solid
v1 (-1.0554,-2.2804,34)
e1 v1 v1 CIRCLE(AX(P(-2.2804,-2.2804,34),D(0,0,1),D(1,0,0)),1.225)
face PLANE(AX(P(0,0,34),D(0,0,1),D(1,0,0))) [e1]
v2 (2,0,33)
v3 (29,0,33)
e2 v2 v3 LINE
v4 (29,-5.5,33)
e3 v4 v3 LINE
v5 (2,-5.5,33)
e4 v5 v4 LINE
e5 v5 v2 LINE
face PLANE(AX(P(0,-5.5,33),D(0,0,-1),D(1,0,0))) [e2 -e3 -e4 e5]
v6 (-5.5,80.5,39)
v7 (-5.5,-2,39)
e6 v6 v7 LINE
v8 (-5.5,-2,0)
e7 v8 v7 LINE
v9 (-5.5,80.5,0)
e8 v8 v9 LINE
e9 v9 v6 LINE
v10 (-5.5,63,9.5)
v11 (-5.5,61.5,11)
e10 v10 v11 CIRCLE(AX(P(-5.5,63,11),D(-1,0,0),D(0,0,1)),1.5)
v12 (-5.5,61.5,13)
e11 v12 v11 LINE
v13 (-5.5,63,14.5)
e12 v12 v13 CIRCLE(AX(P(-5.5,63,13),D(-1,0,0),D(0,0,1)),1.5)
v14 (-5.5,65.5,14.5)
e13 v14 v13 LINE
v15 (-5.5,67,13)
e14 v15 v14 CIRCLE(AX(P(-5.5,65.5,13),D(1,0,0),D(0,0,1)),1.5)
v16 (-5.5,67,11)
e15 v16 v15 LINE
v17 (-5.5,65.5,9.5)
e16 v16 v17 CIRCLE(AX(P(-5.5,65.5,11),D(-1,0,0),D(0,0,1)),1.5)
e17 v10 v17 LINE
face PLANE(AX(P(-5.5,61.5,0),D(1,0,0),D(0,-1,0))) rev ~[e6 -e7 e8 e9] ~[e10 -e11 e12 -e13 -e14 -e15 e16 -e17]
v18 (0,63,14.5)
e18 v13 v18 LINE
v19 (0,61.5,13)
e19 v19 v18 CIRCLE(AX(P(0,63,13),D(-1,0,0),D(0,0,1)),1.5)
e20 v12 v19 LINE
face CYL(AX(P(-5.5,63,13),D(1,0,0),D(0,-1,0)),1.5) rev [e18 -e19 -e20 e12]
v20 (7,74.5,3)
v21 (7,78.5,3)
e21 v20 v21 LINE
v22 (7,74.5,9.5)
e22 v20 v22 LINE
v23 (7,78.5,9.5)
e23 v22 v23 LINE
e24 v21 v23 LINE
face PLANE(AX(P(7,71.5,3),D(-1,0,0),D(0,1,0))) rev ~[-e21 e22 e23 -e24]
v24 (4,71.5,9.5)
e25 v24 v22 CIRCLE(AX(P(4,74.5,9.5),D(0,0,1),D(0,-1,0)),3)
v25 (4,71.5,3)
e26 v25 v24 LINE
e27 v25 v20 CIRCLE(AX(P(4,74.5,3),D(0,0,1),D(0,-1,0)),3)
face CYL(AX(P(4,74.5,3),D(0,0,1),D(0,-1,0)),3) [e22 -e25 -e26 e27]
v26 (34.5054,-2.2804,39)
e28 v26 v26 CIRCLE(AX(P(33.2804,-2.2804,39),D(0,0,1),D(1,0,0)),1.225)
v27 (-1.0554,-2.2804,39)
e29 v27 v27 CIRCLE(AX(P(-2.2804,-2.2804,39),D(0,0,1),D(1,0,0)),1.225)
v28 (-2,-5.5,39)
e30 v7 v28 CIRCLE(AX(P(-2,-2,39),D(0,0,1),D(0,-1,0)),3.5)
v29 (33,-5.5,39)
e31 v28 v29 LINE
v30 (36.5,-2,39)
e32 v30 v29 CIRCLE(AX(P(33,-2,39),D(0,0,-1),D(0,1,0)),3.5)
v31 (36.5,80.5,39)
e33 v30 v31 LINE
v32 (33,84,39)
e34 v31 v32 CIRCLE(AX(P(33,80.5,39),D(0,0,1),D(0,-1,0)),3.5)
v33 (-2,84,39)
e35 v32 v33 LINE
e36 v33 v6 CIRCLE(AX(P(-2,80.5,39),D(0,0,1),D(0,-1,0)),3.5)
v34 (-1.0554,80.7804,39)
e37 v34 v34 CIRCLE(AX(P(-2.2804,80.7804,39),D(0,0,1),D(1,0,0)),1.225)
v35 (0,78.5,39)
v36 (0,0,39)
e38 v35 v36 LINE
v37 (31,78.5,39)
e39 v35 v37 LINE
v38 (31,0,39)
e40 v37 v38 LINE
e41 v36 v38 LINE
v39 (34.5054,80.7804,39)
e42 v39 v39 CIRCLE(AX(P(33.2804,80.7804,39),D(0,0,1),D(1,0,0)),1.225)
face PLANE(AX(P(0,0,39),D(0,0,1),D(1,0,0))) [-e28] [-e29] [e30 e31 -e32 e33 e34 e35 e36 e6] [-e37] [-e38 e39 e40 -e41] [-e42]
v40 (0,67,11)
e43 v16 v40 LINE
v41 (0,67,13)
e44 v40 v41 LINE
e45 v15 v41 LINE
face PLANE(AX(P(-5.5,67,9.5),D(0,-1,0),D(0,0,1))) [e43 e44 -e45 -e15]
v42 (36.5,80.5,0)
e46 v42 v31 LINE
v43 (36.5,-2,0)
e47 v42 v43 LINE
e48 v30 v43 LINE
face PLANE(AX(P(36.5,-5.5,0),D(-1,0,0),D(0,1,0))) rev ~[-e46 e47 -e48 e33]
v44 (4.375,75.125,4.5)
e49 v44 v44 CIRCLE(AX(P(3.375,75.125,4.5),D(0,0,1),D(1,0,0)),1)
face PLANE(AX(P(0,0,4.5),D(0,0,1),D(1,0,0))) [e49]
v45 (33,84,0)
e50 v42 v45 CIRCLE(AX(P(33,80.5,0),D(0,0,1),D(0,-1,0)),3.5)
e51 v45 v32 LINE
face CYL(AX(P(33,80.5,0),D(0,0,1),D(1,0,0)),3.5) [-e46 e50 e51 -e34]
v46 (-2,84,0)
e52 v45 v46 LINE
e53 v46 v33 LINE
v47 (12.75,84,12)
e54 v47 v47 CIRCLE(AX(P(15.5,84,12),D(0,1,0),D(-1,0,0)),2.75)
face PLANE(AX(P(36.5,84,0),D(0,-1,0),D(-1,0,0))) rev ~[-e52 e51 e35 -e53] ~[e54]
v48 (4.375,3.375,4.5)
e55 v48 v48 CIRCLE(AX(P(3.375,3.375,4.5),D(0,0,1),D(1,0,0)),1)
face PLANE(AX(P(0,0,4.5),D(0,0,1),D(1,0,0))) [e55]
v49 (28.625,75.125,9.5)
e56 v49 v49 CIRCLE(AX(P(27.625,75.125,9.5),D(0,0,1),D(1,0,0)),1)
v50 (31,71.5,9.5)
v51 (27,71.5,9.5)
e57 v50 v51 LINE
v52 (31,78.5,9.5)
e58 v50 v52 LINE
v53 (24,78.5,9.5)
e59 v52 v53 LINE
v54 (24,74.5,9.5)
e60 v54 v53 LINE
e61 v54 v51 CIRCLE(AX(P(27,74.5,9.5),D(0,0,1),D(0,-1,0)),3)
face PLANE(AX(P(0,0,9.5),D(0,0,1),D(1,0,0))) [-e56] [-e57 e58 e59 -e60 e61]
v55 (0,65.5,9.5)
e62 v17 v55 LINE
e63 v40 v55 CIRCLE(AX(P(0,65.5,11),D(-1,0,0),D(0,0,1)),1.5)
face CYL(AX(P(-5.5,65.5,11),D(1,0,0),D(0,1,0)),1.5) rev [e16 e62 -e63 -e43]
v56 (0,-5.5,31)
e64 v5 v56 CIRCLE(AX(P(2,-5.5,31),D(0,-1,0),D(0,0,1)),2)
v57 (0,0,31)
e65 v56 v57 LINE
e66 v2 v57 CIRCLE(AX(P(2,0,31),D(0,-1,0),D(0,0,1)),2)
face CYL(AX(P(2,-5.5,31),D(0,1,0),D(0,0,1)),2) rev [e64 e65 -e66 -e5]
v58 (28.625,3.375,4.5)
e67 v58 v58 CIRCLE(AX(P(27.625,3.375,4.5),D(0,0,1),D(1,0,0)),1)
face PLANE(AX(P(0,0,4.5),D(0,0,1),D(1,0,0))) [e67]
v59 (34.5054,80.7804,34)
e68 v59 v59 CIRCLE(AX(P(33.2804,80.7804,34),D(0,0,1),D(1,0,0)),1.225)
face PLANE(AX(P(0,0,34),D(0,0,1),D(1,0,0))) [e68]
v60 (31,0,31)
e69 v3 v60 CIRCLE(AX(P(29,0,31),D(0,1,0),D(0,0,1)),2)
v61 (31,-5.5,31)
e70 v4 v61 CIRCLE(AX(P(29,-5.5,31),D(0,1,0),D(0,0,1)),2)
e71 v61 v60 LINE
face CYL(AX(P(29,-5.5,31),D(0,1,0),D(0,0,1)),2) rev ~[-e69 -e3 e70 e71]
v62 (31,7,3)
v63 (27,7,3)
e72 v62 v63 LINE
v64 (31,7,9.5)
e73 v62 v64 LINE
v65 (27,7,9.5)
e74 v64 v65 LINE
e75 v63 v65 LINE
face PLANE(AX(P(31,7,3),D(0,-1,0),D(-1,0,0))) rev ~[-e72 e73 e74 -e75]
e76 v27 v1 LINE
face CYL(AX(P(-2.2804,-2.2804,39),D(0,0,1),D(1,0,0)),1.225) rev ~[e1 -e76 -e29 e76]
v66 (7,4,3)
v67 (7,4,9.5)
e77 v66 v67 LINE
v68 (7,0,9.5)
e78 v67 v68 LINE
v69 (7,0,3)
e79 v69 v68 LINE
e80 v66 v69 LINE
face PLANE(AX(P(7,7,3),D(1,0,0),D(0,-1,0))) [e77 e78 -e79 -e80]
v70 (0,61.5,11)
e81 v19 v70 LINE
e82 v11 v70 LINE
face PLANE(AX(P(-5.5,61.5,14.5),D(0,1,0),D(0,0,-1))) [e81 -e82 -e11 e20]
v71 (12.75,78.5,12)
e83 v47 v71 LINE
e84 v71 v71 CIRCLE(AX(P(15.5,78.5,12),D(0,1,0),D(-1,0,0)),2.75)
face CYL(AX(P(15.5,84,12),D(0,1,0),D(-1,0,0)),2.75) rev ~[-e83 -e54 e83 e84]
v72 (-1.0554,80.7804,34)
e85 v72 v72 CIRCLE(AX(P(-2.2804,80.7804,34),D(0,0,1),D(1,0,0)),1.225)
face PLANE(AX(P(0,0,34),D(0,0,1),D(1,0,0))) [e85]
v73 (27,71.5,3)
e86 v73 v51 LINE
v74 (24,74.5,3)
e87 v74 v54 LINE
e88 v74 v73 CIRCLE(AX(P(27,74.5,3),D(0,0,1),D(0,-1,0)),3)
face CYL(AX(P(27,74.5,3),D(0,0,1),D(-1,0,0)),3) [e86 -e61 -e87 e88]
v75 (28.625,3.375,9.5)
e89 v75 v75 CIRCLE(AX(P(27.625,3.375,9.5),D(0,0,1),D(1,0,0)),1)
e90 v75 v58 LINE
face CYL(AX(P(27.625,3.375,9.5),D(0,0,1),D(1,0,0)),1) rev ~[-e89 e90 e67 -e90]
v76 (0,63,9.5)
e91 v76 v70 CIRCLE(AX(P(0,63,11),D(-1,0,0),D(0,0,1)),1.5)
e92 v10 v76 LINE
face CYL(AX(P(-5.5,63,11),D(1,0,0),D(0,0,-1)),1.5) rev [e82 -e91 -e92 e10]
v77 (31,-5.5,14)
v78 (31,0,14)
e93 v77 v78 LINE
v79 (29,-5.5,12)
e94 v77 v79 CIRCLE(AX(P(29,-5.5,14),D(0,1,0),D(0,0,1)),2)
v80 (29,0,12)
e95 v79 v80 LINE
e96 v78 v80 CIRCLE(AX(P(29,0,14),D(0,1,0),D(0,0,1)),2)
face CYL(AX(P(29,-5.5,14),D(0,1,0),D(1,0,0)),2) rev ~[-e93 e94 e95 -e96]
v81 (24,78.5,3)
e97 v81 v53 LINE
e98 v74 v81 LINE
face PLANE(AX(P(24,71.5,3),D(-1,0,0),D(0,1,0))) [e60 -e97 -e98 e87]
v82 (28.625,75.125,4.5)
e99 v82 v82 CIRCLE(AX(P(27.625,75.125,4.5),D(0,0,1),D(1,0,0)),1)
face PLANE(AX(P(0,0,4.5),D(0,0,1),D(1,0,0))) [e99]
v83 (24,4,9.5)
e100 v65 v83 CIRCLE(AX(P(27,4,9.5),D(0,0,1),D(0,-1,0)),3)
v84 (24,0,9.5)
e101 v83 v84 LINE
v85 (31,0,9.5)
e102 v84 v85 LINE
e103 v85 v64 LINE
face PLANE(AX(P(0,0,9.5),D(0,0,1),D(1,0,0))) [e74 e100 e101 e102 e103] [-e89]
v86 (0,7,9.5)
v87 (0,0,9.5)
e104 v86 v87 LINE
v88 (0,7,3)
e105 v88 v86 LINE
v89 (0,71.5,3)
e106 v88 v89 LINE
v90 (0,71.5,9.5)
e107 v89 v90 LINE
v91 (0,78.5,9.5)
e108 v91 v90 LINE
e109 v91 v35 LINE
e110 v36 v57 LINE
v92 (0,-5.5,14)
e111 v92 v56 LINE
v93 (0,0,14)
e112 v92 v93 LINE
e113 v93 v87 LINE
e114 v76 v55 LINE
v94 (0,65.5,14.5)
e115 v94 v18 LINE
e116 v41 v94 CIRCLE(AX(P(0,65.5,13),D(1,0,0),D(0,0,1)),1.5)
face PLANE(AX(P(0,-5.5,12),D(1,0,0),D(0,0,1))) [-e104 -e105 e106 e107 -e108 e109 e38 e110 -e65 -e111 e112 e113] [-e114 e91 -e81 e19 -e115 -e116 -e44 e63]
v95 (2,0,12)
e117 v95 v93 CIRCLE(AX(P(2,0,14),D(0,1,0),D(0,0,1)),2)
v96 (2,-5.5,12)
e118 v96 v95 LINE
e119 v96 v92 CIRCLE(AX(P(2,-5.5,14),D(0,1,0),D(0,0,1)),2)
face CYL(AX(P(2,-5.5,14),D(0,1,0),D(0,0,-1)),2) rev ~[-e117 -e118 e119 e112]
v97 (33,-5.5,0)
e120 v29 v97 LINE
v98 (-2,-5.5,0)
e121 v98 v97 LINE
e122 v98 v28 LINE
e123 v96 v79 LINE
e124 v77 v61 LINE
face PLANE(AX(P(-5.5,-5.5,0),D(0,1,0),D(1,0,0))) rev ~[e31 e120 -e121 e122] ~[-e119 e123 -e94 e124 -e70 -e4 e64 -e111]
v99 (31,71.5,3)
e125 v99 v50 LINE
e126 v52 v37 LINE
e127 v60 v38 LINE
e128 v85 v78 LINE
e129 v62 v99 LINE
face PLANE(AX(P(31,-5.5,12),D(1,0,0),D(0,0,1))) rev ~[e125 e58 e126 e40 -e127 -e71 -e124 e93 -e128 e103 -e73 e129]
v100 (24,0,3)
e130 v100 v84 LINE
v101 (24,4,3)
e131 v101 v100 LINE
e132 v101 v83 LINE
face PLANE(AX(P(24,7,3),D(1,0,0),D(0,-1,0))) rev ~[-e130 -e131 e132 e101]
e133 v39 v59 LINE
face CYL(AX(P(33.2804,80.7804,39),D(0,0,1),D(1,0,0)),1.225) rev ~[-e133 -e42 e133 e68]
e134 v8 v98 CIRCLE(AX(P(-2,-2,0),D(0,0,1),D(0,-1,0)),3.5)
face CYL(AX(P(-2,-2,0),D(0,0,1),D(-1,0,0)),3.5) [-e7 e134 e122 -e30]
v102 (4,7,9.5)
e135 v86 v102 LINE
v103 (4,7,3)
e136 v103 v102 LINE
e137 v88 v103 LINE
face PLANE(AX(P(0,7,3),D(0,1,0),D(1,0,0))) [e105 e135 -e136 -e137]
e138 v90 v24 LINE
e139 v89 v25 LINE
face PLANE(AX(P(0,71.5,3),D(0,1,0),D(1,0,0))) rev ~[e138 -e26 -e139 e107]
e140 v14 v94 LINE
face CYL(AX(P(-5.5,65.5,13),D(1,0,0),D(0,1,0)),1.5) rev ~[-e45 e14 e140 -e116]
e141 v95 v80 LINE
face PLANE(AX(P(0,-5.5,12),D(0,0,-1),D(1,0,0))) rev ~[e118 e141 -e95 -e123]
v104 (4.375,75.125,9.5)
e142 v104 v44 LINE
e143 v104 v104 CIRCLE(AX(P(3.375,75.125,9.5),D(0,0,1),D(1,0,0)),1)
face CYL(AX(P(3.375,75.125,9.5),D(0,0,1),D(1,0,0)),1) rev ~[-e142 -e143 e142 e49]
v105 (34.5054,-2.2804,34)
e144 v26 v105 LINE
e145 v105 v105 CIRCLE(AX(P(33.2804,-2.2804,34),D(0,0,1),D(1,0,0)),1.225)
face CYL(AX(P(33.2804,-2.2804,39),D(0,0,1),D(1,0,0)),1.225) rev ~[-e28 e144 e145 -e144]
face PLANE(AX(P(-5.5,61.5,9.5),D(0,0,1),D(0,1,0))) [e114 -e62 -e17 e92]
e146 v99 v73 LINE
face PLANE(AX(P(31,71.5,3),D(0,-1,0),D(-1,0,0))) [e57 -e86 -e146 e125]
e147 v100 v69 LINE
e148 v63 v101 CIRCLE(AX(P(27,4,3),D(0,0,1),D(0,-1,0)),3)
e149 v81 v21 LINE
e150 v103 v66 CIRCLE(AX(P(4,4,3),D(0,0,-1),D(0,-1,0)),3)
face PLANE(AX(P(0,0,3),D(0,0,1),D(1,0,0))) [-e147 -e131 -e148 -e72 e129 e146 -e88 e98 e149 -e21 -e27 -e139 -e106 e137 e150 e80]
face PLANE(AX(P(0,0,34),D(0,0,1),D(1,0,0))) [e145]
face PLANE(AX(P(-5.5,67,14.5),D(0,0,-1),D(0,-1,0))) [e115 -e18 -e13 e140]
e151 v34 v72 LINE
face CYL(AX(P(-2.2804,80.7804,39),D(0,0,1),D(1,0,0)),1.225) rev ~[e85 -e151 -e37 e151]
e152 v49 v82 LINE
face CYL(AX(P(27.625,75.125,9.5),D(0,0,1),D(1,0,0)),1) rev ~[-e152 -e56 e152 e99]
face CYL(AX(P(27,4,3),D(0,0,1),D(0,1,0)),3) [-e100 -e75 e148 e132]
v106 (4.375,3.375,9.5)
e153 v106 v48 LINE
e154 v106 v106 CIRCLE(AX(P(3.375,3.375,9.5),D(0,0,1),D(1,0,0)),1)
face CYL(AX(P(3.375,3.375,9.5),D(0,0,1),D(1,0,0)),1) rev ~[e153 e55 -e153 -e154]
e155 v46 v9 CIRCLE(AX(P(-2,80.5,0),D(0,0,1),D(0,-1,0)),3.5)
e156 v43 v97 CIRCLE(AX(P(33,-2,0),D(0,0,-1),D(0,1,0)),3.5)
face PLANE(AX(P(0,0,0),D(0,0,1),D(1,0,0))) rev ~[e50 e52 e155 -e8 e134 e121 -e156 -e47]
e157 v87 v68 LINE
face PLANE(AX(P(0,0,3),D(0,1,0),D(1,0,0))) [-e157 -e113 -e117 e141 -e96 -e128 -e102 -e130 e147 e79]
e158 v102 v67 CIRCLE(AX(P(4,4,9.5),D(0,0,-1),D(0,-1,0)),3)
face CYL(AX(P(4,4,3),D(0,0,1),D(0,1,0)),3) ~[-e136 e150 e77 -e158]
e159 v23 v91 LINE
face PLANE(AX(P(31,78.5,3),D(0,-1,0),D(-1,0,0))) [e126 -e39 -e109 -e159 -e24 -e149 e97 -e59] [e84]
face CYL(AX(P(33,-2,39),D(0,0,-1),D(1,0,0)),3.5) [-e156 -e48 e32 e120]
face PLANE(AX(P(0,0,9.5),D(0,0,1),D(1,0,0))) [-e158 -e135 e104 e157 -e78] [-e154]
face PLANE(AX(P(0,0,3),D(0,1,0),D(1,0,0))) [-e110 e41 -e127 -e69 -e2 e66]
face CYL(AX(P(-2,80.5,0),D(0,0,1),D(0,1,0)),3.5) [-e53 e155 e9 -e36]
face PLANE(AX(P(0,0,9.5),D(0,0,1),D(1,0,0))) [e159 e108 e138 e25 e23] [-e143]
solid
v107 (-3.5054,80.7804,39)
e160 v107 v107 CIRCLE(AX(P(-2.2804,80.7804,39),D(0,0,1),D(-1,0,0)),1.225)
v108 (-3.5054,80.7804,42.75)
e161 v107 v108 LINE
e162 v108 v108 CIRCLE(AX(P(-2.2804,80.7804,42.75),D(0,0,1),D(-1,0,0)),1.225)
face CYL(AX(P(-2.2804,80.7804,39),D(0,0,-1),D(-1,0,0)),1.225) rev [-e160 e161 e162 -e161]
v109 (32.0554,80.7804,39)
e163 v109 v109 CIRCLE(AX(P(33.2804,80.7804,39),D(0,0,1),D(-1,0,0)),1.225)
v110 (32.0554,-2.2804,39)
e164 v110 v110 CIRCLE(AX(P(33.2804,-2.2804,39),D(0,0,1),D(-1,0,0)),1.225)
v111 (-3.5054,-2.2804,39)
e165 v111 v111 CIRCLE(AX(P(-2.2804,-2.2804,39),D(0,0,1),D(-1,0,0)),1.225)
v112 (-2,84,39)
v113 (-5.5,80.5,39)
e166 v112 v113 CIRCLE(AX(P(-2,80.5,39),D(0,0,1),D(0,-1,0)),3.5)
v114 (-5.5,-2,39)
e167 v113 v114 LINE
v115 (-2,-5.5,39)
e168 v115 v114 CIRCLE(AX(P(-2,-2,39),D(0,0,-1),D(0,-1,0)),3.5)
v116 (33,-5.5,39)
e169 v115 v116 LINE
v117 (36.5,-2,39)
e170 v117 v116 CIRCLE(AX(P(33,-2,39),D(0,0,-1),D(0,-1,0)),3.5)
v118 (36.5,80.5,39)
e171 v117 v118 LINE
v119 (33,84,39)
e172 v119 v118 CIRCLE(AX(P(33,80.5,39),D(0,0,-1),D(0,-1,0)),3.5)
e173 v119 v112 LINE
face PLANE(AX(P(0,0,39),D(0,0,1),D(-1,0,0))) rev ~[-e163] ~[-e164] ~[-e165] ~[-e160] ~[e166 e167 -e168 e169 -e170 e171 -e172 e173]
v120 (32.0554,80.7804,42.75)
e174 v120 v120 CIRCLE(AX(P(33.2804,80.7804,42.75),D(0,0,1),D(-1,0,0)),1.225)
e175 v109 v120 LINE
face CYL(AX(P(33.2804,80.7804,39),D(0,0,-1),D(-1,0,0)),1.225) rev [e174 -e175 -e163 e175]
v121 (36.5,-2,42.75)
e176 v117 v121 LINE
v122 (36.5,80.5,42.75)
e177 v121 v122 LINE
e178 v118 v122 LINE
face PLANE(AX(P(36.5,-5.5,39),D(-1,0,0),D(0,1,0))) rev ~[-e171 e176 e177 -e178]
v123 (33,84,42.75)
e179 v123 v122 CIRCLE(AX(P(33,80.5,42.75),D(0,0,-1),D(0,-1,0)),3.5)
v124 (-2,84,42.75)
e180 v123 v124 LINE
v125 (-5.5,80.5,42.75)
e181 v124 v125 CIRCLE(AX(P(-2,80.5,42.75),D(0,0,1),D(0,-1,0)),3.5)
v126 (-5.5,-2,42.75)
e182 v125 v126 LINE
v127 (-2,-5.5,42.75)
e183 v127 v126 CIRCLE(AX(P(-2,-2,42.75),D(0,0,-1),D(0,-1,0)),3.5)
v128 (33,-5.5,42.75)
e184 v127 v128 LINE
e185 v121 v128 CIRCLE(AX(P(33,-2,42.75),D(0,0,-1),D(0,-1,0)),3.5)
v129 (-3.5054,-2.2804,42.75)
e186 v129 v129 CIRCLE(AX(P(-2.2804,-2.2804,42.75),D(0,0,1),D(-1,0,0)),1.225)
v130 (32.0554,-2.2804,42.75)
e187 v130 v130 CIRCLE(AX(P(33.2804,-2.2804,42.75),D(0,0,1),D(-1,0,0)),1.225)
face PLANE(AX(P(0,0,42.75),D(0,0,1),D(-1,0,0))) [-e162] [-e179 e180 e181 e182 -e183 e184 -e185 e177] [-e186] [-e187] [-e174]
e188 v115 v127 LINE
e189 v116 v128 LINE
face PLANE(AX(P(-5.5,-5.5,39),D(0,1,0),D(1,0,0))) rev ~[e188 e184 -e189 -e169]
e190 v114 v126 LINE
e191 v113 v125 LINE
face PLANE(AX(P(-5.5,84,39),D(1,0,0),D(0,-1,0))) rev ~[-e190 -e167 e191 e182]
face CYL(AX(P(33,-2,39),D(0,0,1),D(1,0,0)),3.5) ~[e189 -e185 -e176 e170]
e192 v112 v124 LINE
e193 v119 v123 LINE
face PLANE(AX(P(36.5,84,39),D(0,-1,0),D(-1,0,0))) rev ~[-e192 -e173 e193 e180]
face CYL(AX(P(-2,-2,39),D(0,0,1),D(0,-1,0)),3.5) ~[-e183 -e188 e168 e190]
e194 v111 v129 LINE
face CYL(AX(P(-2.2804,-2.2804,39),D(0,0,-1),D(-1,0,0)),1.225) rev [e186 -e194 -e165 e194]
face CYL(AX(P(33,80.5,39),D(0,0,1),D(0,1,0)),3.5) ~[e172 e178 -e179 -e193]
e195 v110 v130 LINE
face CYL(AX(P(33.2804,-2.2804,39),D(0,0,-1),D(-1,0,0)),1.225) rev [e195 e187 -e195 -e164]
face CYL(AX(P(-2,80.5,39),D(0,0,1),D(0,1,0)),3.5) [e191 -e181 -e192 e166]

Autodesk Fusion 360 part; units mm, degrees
sketch "top" plane through (0, 0, 0) normal (0, 0, 1) x (1, 0, 0)
  line L0 (0, 0) -> (31, 0)
  line L1 (31, 0) -> (31, 78.5)
  line L2 (31, 78.5) -> (0, 78.5)
  line L3 (0, 78.5) -> (0, 0)
  line L4 (36.5, -5.5) -> (36.5, 84)
  line L5 (36.5, 84) -> (-5.5, 84)
  line L6 (-5.5, 84) -> (-5.5, -5.5)
  line L7 (-5.5, -5.5) -> (36.5, -5.5)
  line L8 (-5.5, 39.25) -> (36.5, 39.25) construction
  line L9 (15.5, -5.5) -> (15.5, 84) construction
  line L10 (-5.5, -5.5) -> (0, 0) construction
  circle A0 centre (-2.2804, -2.2804) radius 1.225
  line L11 (-5.5, 67) -> (36.5, 67)
  line L12 (-5.5, 61.5) -> (0, 61.5)
  circle A1 centre (3.375, 3.375) radius 2.125
  circle A2 centre (3.375, 75.125) radius 2.125
  circle A3 centre (27.625, 3.375) radius 2.125
  circle A4 centre (27.625, 75.125) radius 2.125
  circle A5 centre (-2.2804, 80.7804) radius 1.225
  circle A6 centre (33.2804, -2.2804) radius 1.225
  circle A7 centre (33.2804, 80.7804) radius 1.225
  circle A8 centre (3.375, 3.375) radius 1
  circle A9 centre (27.625, 3.375) radius 1
  circle A10 centre (27.625, 75.125) radius 1
  circle A11 centre (3.375, 75.125) radius 1
  line L13 (0, 7) -> (7, 7)
  line L14 (7, 7) -> (7, 0)
  line L15 (24, 7) -> (24, 0)
  line L16 (31, 7) -> (24, 7)
  line L17 (24, 71.5) -> (24, 78.5)
  line L18 (31, 71.5) -> (24, 71.5)
  line L19 (7, 71.5) -> (7, 78.5)
  line L20 (0, 71.5) -> (7, 71.5)
  point P0 (-2.2804, -2.2804)
  dimension "d1" = 31
  dimension "d2" = 78.5
  dimension "d3" = 5.5
  dimension "d4" = 2.45
  dimension "d5" = 17
  dimension "d6" = 5.5
  dimension "d7" = 4.25
  dimension "d8" = 1.25
  dimension "d9" = 1.25
  dimension "d10" = 2
  dimension "d41" = 2
  dimension "d45" = 7
  dimension "d46" = 7
extrude "Extrude1" add sketch "top" along normal blind 3 contours L0 L3 L13 L14 | L0 L1 L3 L4 L6 L7 L11 L12 | L0 L1 L3 L11 L13 L14 L15 L16 | L0 L1 L15 L16 | L3 L6 L11 L12 | L1 L2 L3 L4 L5 L6 L11 | L1 L2 L3 L11 L17 L18 L19 L20 | L2 L3 L19 L20 | L1 L2 L17 L18 | A0 | A1 | A2 | A3 | A4 | A5 | A6 | A7 | A8 | A9 | A10 | A11 makes body 1
extrude "Extrude2" add sketch "top" along normal blind 36 from surface at 3 contours L0 L1 L3 L4 L6 L7 L11 L12 | L3 L6 L11 L12 | L1 L2 L3 L4 L5 L6 L11 | A0 | A5 | A6 | A7 bodies 1
extrude "Extrude3" add sketch "top" along normal blind 6.5 from surface at 3 contours A1 | A2 | A3 | A4 | A8 | A9 | A10 | A11 bodies 1
sketch "side" plane through (-5.5, 0, 0) normal (-1, 0, 0) x (0, -1, 0)
  line L0 (-84, 0) -> (5.5, 0)
  line L1 (5.5, 0) -> (5.5, 39)
  line L2 (5.5, 39) -> (-84, 39)
  line L3 (-84, 39) -> (-84, 0)
  line L4 (-84, 0) -> (5.5, 0)
  line L5 (-84, 0) -> (-84, 39)
  line L6 (-84, 39) -> (5.5, 39)
  line L7 (5.5, 0) -> (5.5, 39)
  line L8 (-84, 19.5) -> (5.5, 19.5) construction
  line L9 (-1.25, 9.5) -> (-5.5, 9.5)
  line L10 (-73, 9.5) -> (-77.25, 9.5)
  line L11 (-5.5, 3) -> (-1.25, 3)
  line L12 (-77.25, 3) -> (-73, 3)
  line L13 (0, 3) -> (-78.5, 3)
  line L14 (0, 3) -> (0, 39)
  line L15 (-78.5, 3) -> (-78.5, 39)
  line L16 (-73, 9.5) -> (-5.5, 9.5) construction
  line L17 (-39.25, 39) -> (-39.25, 0) construction
  line L18 (-67, 0) -> (-67, 19.5) construction
  line L19 (-61.5, 0) -> (-61.5, 19.5) construction
  line L20 (-84, 14.5) -> (-61.5, 14.5) construction
  line L21 (-67, 14.5) -> (-61.5, 14.5)
  line L22 (-61.5, 14.5) -> (-61.5, 9.5)
  line L23 (-61.5, 9.5) -> (-67, 9.5)
  line L24 (-67, 9.5) -> (-67, 14.5)
  point P0 (-61.5, 0)
  point P1 (-67, 0)
  dimension "d19" = 5
extrude "Extrude4" cut sketch "side" against normal up to surface (5.5 mm away) contours L21 L22 L23 L24 bodies 1
sketch "back" plane through (0, -5.5, 0) normal (0, -1, 0) x (1, 0, 0)
  line L0 (-5.5, 0) -> (36.5, 0)
  line L1 (36.5, 0) -> (36.5, 39)
  line L2 (36.5, 39) -> (-5.5, 39)
  line L3 (-5.5, 39) -> (-5.5, 0)
  line L4 (0, 3) -> (0, 39)
  line L5 (5.5, 9.5) -> (1.25, 9.5)
  line L6 (1.25, 3) -> (5.5, 3)
  line L7 (25.5, 3) -> (29.75, 3)
  line L8 (29.75, 9.5) -> (25.5, 9.5)
  line L9 (31, 3) -> (31, 39)
  line L10 (31, 3) -> (0, 3)
  line L11 (0, 39) -> (31, 39)
  line L12 (-5.5, 0) -> (36.5, 0)
  line L13 (36.5, 0) -> (36.5, 39)
  line L14 (-5.5, 0) -> (-5.5, 39)
  line L15 (0, 33) -> (31, 33)
  line L16 (0, 12) -> (31, 12)
  dimension "d22" = 6
  dimension "d23" = 2.5
extrude "Extrude5" cut sketch "back" against normal up to surface (5.5 mm away) contours L4 L9 L15 L16 bodies 1
sketch "front" plane through (0, 84, 0) normal (0, 1, 0) x (-1, 0, 0)
  line L0 (-36.5, 0) -> (5.5, 0)
  line L1 (5.5, 0) -> (5.5, 39)
  line L2 (5.5, 39) -> (-36.5, 39)
  line L3 (-36.5, 39) -> (-36.5, 0)
  line L4 (-36.5, 0) -> (-36.5, 39)
  line L5 (-36.5, 39) -> (5.5, 39)
  line L6 (5.5, 0) -> (5.5, 39)
  line L7 (-36.5, 0) -> (5.5, 0)
  line L8 (-25.5, 9.5) -> (-29.75, 9.5)
  line L9 (-1.25, 9.5) -> (-5.5, 9.5)
  line L10 (-31, 3) -> (0, 3)
  line L11 (0, 3) -> (0, 39)
  line L12 (-31, 3) -> (-31, 39)
  line L13 (-31, 12) -> (0, 12) construction
  line L14 (-15.5, 39) -> (-15.5, 12) construction
  circle A0 centre (-15.5, 12) radius 2.75
  dimension "d26" = 2.5
  dimension "d27" = 5.5
extrude "Extrude6" cut sketch "front" against normal up to surface (5.5 mm away) contours A0 bodies 1
extrude "Extrude7" cut sketch "top" against normal blind 5 from surface at 39 contours A0 | A5 | A6 | A7 bodies 1
sketch "lid" plane through (0, 0, 39) normal (0, 0, 1) x (-1, 0, 0)
  circle A0 centre (-33.2804, -80.7804) radius 1.225
  circle A1 centre (-33.2804, 2.2804) radius 1.225
  circle A2 centre (2.2804, -80.7804) radius 1.225
  circle A3 centre (2.2804, 2.2804) radius 1.225
  line L0 (-31, 0) -> (0, 0)
  line L1 (0, 0) -> (0, -78.5)
  line L2 (0, -78.5) -> (-31, -78.5)
  line L3 (-31, -78.5) -> (-31, 0)
  line L4 (5.5, -84) -> (5.5, 5.5)
  line L5 (5.5, 5.5) -> (-36.5, 5.5)
  line L6 (-36.5, 5.5) -> (-36.5, -84)
  line L7 (-36.5, -84) -> (5.5, -84)
  line L8 (5.5, -84) -> (5.5, 5.5)
  line L9 (-36.5, -84) -> (5.5, -84)
  line L10 (-36.5, 5.5) -> (-36.5, -84)
  line L11 (5.5, 5.5) -> (-36.5, 5.5)
  circle A4 centre (2.2804, 2.2804) radius 1.225
  circle A5 centre (-33.2804, 2.2804) radius 1.225
  circle A6 centre (-33.2804, -80.7804) radius 1.225
  circle A7 centre (2.2804, -80.7804) radius 1.225
  line L12 (0, 0) -> (0, -78.5)
  line L13 (0, -78.5) -> (-31, -78.5)
  line L14 (-31, -78.5) -> (-31, 0)
  line L15 (-31, 0) -> (0, 0)
extrude "Extrude8" add sketch "lid" along normal blind 3.75 separate body contours L0 L1 L2 L3 L12 L13 L14 L15 | L4 L5 L6 L7 L8 L9 L10 L11 makes body 2
fillet "Fillet1" radius 3.5 8 edges at (36.5, 84, 19.5) (-5.5, 84, 19.5) (-5.5, -5.5, 19.5) (36.5, -5.5, 19.5) (36.5, 84, 40.875) (-5.5, 84, 40.875) (-5.5, -5.5, 40.875) (36.5, -5.5, 40.875) on bodies 1 2
fillet "Fillet2" radius 2 4 edges at (31, -2.75, 33) (0, -2.75, 33) (0, -2.75, 12) (31, -2.75, 12) on bodies 1
fillet "Fillet3" radius 1.5 4 edges at (-2.75, 67, 14.5) (-2.75, 61.5, 14.5) (-2.75, 61.5, 9.5) (-2.75, 67, 9.5) on bodies 1
extrude "Extrude9" cut sketch "top" against normal blind 5 from surface at 9.5 contours A8 | A9 | A10 | A11 bodies 1
extrude "Extrude10" add sketch "top" along normal up to surface (6.5 mm away) from surface at 3 contours L0 L3 L13 L14 | L0 L1 L15 L16 | L2 L3 L19 L20 | L1 L2 L17 L18 bodies 1
fillet "Fillet4" radius 3 4 edges at (24, 71.5, 6.25) (24, 7, 6.25) (7, 7, 6.25) (7, 71.5, 6.25) on bodies 1
